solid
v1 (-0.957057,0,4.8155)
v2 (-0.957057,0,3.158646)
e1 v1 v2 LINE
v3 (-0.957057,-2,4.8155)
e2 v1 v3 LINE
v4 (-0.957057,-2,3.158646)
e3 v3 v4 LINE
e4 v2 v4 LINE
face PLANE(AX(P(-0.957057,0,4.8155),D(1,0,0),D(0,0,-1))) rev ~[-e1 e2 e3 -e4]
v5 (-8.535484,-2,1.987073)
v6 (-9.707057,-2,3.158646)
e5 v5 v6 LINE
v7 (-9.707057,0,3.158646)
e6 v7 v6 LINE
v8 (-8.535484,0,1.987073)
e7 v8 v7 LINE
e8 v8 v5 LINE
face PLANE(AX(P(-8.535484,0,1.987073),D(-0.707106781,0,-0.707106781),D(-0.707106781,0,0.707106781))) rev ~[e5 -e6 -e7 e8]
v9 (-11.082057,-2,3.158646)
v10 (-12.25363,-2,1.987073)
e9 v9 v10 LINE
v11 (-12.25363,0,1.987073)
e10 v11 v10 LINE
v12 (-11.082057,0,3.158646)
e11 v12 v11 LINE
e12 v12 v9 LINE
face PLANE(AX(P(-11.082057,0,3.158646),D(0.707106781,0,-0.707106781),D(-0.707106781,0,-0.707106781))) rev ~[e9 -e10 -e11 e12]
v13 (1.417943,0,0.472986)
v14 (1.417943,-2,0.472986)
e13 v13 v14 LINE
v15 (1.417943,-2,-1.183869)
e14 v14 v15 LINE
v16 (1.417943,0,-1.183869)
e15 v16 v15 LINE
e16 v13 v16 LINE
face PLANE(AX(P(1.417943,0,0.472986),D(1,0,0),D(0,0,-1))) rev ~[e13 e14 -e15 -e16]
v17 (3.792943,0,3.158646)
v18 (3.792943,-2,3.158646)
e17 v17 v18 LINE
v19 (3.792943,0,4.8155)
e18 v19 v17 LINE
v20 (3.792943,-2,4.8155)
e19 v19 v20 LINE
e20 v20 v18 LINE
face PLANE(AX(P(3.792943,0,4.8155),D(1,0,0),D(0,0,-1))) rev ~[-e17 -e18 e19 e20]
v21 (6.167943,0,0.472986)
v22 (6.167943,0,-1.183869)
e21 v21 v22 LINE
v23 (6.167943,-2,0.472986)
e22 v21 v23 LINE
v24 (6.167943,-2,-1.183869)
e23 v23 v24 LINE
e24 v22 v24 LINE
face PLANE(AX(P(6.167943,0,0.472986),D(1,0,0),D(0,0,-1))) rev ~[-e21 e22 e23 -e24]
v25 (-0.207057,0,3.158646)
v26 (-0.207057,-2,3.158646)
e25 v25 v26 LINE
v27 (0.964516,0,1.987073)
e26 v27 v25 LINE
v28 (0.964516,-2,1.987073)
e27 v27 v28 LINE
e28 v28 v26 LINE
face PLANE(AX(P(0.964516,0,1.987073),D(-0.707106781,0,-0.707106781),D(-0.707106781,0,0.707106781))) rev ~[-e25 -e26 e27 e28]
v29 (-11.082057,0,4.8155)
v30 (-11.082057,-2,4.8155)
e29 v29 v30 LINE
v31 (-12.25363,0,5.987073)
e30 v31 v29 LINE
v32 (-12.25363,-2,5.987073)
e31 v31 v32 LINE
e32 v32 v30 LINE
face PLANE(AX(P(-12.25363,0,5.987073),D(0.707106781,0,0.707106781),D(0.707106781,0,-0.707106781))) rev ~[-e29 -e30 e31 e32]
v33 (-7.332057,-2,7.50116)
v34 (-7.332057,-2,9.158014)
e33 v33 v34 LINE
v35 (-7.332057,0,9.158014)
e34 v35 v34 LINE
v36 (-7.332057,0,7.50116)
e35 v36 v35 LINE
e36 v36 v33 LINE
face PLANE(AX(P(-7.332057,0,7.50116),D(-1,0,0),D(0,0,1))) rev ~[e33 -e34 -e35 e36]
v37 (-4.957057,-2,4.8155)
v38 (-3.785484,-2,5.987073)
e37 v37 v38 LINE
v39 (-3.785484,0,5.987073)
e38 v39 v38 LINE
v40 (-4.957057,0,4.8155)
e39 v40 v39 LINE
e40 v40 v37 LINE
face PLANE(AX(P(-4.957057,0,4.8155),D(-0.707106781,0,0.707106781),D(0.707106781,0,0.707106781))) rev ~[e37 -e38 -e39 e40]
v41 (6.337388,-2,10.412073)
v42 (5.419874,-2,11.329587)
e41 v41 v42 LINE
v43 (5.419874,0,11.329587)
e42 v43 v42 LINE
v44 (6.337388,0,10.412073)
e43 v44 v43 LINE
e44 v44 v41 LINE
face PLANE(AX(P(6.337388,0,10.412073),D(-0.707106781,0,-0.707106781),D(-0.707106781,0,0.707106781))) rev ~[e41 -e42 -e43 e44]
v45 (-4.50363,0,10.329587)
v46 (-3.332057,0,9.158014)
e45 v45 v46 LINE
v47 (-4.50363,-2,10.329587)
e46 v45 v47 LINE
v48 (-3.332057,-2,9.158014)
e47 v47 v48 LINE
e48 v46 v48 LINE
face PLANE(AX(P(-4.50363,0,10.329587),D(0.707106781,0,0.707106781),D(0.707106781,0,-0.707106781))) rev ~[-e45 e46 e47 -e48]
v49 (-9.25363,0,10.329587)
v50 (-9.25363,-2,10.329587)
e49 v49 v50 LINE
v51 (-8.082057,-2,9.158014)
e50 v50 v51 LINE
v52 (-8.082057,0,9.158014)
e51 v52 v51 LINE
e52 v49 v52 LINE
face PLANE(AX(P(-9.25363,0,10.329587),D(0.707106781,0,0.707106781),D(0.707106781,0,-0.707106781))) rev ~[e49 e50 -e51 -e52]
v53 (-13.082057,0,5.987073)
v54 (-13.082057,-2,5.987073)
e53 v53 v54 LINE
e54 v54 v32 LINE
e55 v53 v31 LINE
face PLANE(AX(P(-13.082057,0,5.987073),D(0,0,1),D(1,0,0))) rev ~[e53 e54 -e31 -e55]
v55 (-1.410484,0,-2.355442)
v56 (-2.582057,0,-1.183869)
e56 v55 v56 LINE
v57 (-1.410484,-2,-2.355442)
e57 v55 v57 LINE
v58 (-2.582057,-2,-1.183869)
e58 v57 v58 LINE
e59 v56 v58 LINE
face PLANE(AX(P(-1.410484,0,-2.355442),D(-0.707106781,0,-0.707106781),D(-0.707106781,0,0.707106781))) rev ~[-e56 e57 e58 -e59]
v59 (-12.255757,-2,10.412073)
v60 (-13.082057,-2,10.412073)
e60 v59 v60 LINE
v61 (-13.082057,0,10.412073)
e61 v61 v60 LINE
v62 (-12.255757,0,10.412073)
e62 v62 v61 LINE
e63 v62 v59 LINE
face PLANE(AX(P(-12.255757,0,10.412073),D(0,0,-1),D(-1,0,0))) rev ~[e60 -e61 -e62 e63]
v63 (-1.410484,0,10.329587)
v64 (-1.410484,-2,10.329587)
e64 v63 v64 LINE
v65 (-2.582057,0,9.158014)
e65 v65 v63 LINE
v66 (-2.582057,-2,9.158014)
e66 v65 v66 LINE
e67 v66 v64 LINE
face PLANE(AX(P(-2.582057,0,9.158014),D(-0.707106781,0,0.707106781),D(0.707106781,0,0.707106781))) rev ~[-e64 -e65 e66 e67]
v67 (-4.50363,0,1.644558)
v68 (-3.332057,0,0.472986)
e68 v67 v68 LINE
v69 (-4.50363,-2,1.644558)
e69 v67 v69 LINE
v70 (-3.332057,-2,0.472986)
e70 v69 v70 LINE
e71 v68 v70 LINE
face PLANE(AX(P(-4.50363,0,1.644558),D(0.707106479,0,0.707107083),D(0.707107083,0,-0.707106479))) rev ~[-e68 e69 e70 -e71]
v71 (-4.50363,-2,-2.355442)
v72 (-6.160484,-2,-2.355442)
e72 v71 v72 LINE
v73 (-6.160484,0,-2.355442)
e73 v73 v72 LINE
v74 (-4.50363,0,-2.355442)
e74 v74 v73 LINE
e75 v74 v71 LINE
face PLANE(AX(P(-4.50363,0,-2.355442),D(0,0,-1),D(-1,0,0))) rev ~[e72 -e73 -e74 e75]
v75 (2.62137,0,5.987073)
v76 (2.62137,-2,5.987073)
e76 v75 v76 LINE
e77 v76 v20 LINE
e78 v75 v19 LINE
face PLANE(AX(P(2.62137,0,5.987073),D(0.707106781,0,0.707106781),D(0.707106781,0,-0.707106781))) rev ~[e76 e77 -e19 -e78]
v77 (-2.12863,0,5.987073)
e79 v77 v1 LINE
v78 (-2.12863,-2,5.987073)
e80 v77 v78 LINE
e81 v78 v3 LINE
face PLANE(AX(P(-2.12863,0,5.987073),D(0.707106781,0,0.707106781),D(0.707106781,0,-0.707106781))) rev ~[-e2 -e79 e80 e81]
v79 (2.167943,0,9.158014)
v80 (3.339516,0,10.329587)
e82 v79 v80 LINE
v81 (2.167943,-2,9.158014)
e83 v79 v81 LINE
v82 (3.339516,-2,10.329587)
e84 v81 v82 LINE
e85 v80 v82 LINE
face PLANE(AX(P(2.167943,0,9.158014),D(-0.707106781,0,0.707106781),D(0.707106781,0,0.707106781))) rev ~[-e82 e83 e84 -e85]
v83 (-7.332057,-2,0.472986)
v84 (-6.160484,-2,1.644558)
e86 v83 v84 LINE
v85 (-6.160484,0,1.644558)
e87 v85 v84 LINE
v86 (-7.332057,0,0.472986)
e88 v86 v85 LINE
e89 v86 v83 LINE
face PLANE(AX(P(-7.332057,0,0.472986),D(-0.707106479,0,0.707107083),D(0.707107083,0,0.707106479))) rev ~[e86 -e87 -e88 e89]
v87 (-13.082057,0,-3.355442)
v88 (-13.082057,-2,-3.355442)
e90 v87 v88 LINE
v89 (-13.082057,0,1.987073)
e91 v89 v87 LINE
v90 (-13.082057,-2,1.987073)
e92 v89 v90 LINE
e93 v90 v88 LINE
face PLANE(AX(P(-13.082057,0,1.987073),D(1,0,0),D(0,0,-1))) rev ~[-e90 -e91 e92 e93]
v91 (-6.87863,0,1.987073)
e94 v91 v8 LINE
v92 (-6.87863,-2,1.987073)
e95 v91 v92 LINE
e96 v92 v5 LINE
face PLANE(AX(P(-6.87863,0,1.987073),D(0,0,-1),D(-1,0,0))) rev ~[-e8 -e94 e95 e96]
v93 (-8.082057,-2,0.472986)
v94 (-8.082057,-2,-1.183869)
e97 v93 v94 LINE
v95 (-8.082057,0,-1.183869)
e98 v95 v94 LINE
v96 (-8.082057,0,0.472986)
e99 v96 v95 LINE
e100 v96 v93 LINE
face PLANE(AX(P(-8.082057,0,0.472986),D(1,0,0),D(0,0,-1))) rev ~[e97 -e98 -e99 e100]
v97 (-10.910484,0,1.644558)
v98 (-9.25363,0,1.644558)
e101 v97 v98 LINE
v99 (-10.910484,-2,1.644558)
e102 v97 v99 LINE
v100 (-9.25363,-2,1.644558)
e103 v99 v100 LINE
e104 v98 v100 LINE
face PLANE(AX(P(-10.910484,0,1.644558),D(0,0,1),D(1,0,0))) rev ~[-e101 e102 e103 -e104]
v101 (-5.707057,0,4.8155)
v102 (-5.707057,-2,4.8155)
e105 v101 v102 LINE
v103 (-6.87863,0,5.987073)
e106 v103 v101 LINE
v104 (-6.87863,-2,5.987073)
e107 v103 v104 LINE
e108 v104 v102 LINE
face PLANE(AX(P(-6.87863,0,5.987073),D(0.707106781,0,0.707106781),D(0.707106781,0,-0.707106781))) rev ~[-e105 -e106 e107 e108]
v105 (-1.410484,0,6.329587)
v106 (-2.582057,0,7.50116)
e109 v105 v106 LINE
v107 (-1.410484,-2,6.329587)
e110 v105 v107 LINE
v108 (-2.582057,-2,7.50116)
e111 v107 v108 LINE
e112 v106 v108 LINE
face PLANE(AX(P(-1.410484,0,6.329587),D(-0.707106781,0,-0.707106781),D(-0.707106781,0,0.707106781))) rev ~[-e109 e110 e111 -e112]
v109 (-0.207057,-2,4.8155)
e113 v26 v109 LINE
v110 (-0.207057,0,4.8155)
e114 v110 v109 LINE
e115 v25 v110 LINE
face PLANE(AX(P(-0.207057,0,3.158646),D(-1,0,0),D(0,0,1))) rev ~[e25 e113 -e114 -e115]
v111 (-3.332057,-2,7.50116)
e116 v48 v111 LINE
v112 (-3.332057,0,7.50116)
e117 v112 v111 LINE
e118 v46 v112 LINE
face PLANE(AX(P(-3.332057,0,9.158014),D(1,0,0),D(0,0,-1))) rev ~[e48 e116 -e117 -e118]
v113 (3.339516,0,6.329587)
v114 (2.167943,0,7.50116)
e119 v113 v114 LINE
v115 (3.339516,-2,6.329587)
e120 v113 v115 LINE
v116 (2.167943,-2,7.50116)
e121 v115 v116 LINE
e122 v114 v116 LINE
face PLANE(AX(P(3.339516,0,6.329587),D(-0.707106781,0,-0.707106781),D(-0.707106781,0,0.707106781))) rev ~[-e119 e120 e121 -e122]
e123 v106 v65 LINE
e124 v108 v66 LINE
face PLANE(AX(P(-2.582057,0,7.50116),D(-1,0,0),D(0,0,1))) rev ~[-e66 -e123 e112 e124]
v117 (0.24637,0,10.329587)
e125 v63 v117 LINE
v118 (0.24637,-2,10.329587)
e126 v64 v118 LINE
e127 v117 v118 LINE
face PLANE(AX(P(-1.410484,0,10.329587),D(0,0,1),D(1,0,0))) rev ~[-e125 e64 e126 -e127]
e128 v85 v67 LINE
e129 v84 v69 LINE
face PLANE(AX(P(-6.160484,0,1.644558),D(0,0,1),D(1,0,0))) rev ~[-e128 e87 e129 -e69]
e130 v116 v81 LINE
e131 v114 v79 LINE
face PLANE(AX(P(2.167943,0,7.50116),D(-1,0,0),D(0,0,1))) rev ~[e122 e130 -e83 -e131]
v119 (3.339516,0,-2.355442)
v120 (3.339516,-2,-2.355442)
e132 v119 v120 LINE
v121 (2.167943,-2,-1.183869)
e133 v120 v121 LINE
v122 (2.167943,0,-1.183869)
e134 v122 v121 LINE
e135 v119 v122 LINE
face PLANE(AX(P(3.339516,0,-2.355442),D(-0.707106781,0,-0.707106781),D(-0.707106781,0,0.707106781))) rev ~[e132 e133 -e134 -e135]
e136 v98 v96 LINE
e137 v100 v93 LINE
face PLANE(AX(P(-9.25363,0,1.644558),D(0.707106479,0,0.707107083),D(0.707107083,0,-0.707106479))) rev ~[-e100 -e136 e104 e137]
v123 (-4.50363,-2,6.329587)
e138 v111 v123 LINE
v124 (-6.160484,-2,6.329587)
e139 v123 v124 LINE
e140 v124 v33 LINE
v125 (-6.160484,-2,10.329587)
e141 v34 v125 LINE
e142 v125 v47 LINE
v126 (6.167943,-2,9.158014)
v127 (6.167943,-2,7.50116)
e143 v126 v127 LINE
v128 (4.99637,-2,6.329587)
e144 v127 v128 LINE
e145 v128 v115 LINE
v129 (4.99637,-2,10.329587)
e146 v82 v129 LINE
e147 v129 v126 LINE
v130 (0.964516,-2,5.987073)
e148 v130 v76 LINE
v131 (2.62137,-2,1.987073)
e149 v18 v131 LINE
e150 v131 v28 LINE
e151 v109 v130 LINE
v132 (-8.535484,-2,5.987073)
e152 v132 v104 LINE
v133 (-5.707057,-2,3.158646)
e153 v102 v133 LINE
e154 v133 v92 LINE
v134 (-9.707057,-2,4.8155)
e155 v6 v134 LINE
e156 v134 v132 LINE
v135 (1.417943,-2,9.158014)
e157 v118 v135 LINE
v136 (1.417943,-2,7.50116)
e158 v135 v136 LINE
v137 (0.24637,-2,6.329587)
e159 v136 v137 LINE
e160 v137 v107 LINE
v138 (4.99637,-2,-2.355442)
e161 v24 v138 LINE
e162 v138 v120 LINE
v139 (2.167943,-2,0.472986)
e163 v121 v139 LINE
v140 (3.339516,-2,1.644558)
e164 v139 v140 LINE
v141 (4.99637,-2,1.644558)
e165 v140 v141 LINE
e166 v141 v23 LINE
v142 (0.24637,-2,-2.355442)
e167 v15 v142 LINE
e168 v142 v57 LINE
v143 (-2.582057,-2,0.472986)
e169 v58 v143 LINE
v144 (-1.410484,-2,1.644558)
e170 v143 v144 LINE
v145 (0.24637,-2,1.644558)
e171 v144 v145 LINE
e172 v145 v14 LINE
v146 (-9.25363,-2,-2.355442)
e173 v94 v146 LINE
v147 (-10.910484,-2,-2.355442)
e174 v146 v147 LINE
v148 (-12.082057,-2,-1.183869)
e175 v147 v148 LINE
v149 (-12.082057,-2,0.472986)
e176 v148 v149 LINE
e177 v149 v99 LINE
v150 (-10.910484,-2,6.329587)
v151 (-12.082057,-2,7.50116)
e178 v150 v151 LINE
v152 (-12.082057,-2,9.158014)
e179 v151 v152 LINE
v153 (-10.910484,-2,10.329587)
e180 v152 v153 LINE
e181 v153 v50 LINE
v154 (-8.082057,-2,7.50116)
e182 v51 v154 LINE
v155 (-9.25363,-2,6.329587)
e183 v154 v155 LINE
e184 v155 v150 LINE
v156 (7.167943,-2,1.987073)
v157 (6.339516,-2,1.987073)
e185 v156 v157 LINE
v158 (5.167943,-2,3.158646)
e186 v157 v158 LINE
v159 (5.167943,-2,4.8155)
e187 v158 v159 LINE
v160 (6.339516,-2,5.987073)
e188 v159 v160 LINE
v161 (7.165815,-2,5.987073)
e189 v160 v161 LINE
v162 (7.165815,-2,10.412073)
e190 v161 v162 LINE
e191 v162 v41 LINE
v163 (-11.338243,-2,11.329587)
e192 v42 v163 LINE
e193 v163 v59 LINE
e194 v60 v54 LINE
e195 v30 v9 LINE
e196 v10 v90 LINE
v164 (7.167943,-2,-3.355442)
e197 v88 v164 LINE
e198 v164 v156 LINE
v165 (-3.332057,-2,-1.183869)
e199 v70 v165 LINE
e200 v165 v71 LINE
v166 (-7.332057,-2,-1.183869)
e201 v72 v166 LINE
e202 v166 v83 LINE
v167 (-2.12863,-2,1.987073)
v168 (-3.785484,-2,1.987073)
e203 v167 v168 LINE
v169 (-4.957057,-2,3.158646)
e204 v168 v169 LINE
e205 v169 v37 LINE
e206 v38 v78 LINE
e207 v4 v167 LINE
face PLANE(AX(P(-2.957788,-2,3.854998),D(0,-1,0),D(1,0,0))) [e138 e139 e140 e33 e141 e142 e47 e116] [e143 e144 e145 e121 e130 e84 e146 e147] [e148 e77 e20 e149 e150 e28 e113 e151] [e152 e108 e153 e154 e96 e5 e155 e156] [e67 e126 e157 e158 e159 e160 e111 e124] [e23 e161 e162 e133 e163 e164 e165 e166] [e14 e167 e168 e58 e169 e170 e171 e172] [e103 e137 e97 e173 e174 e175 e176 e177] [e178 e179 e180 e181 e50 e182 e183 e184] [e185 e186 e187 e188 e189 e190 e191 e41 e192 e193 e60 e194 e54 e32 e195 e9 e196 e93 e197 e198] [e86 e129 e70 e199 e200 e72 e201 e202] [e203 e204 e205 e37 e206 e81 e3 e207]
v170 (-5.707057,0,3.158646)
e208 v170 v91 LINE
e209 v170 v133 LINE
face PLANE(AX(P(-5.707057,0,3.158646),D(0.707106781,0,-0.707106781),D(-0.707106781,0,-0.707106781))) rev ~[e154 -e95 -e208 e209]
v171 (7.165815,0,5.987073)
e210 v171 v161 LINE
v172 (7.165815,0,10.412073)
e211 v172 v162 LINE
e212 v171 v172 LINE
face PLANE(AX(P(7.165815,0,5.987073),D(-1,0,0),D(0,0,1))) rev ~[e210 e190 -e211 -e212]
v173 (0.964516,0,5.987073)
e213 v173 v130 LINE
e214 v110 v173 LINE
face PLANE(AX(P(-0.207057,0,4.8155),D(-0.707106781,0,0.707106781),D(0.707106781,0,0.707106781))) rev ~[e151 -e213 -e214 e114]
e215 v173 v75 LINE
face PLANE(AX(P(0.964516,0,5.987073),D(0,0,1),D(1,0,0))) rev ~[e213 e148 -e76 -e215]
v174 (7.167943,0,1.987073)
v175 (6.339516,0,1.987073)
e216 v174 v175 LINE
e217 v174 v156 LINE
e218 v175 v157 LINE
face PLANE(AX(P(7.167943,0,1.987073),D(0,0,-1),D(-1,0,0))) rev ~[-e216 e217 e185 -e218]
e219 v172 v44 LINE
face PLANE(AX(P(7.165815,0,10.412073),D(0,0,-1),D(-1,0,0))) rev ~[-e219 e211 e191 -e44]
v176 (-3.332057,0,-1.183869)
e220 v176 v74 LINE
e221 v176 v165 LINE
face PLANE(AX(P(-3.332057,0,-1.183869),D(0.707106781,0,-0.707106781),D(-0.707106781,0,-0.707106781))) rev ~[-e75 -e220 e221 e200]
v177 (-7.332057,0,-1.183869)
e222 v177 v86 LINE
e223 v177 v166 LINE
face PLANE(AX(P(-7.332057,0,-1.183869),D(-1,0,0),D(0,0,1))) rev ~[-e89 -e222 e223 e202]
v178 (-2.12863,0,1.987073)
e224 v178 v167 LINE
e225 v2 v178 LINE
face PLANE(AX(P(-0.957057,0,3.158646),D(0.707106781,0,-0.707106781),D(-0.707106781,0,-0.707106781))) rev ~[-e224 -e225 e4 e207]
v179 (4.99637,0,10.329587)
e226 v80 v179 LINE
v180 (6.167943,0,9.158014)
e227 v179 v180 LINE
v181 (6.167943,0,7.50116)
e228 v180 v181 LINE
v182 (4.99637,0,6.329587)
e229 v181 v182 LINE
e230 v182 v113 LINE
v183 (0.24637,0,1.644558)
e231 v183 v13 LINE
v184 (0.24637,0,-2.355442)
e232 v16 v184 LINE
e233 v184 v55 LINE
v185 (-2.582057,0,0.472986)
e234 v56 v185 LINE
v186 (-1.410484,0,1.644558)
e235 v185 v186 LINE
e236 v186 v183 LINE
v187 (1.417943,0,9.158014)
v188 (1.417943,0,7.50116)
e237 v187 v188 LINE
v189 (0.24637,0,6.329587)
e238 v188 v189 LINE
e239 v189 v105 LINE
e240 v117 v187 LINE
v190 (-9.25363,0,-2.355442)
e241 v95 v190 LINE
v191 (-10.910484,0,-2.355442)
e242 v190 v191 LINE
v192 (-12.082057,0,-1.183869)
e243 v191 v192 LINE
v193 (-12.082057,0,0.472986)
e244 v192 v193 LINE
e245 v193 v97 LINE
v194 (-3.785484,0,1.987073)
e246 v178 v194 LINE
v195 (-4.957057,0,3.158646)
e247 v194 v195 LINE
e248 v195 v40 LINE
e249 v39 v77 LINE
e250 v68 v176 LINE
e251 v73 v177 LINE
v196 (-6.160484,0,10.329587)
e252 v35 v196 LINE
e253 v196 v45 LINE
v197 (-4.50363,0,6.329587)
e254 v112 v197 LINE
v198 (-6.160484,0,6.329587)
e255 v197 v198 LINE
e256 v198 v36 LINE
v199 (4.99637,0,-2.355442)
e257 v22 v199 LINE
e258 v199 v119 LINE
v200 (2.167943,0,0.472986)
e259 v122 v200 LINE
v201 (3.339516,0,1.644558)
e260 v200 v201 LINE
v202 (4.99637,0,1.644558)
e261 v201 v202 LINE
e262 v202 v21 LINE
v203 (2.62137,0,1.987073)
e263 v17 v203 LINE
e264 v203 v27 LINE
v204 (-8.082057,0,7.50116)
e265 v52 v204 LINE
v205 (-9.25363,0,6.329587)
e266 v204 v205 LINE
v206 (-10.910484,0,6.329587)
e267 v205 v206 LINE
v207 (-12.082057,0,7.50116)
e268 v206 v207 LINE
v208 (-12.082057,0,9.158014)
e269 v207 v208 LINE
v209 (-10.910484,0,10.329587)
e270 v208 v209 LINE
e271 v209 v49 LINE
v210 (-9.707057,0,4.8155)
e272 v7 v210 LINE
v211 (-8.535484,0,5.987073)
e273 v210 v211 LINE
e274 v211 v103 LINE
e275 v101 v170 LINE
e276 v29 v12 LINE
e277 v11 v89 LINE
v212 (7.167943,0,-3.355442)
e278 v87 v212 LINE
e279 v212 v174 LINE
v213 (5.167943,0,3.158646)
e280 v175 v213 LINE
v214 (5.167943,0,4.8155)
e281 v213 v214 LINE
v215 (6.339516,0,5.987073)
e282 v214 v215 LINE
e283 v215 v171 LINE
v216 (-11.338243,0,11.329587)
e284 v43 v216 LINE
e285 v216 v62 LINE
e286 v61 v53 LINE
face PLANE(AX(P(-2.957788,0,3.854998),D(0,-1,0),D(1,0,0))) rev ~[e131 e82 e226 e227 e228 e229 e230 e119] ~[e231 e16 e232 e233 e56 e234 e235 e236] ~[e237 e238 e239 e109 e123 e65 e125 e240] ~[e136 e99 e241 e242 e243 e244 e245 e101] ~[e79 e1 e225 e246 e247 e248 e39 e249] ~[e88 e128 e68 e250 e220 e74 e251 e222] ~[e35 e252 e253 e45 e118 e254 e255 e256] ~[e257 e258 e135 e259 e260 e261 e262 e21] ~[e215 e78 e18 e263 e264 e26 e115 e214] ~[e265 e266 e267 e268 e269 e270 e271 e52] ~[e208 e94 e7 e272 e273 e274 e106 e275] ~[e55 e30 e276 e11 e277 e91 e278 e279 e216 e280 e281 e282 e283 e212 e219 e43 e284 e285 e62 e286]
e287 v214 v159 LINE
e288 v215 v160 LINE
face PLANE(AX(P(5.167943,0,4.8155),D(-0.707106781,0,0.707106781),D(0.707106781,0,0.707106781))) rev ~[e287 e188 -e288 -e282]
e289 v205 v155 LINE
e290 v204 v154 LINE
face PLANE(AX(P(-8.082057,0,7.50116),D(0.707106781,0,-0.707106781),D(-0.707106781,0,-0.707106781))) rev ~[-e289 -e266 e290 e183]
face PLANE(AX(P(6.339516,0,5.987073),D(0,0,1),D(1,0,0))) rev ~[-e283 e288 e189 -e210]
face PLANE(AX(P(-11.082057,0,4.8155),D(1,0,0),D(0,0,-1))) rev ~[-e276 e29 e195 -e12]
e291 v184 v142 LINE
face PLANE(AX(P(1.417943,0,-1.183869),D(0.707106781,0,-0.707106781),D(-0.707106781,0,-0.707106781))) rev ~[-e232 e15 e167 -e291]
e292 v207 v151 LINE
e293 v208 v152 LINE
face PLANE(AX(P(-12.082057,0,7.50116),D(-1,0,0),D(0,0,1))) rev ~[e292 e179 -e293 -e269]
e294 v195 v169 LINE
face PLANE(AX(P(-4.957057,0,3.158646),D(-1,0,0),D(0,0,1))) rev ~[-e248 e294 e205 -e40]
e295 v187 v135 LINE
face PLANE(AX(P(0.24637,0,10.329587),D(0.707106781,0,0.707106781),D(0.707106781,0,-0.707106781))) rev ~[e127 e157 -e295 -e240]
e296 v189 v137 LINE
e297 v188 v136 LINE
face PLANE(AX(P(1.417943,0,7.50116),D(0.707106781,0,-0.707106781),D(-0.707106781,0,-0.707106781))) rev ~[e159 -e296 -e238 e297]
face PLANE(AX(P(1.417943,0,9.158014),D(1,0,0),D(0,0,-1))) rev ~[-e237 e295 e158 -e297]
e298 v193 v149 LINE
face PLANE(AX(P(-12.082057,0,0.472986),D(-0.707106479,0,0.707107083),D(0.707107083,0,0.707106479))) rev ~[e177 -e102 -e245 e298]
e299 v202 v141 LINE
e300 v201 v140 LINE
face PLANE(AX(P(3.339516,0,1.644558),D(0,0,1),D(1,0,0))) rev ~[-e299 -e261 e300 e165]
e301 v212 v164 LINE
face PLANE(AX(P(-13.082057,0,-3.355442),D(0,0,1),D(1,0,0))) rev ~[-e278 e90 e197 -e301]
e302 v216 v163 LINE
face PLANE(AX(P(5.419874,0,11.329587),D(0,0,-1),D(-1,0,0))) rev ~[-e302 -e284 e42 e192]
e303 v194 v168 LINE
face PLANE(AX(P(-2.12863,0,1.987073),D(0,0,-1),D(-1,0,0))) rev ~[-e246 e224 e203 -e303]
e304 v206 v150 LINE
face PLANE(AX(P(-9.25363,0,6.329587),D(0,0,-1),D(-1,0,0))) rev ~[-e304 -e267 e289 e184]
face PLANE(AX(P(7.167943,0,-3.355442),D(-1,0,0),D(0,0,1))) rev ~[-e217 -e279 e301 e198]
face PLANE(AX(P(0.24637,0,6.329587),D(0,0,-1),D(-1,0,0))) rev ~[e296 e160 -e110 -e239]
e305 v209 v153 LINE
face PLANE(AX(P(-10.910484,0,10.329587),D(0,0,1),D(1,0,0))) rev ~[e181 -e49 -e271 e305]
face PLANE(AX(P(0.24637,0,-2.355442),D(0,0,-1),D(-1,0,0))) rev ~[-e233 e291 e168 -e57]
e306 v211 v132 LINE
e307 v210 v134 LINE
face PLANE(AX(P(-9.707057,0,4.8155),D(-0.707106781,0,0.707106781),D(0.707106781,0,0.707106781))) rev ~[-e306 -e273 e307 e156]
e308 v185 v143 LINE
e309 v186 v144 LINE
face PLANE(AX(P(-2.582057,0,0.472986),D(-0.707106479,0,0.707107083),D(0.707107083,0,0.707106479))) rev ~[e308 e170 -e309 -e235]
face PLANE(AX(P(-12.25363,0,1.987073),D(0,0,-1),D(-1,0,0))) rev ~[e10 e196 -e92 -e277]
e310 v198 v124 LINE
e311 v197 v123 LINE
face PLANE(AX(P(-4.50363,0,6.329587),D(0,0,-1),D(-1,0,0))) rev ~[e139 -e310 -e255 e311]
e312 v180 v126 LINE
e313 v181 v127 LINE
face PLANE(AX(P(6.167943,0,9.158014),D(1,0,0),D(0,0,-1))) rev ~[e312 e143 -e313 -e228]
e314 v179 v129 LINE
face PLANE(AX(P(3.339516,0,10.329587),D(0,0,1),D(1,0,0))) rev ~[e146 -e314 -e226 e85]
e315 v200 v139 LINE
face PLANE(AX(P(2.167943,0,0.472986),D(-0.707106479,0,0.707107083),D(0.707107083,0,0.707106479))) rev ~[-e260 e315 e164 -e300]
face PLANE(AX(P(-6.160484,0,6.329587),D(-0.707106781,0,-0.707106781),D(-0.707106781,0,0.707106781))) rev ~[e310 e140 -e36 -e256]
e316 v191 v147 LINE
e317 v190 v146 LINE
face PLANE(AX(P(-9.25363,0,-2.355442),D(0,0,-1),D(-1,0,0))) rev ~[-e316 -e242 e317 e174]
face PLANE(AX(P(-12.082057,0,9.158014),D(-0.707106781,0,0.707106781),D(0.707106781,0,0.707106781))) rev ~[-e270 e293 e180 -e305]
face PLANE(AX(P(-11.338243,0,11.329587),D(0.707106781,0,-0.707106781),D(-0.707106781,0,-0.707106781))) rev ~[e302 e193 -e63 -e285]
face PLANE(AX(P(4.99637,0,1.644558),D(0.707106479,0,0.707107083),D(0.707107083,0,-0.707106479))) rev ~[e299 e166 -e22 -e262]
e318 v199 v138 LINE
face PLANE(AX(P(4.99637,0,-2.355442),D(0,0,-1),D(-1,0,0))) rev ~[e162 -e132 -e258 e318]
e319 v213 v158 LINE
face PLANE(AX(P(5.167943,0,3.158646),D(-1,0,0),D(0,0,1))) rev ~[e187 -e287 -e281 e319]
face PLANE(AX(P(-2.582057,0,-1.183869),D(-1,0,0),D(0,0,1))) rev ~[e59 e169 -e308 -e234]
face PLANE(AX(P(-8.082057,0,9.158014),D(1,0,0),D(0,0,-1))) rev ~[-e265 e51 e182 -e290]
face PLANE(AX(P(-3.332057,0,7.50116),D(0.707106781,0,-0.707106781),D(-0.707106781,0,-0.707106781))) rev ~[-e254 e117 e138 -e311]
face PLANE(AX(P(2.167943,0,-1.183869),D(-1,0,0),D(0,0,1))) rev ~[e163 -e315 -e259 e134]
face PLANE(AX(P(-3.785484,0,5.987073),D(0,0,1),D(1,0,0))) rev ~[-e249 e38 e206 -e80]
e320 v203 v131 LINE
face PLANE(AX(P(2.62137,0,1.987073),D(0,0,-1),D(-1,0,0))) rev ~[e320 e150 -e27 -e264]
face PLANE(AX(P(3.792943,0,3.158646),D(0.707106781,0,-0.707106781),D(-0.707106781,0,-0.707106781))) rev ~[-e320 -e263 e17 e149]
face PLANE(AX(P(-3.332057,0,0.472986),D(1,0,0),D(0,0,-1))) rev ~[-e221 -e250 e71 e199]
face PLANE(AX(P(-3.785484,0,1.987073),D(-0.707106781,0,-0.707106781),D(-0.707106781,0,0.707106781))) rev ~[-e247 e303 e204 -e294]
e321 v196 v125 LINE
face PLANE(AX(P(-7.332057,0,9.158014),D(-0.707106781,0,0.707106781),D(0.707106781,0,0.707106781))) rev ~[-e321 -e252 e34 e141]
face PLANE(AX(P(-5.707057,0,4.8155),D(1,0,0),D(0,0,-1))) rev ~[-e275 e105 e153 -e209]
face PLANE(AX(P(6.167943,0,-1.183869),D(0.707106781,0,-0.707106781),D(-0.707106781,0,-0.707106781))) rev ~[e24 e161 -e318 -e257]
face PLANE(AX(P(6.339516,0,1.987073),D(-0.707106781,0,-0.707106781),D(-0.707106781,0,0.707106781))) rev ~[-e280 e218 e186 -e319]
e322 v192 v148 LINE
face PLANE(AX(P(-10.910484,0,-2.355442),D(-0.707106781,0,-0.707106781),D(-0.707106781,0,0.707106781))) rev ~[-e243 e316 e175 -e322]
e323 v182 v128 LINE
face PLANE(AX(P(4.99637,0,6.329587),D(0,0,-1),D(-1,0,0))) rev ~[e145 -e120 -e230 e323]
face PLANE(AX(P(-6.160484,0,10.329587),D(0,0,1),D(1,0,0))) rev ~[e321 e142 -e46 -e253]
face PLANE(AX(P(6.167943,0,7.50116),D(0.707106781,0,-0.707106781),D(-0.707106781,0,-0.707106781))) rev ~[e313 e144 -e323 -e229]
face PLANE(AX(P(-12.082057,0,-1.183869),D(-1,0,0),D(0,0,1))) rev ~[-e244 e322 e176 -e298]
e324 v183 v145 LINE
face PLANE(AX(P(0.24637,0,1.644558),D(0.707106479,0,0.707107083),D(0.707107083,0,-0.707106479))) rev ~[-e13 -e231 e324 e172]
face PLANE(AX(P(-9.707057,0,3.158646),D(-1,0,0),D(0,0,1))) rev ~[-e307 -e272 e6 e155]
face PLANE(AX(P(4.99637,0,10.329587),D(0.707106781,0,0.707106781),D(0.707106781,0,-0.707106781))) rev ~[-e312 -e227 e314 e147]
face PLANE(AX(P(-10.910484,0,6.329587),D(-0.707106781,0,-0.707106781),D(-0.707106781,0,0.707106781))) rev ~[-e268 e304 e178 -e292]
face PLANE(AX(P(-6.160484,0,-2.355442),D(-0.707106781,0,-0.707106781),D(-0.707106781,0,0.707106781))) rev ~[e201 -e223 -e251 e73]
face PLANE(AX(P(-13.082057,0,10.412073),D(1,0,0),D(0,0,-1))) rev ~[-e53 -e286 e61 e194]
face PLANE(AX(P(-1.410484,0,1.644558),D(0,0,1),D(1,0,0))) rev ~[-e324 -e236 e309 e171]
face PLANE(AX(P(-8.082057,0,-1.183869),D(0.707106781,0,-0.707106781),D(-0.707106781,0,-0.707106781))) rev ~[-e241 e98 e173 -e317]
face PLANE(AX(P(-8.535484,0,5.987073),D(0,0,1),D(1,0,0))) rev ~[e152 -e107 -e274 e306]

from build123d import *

# Parameters (mm, degrees)
F1_DEPTH = 2


with BuildPart() as f1:
    # F0 (on Front) → F1 (new body)
    with BuildSketch(Plane.XZ):
        Polygon((5.419874, 11.329587), (-11.338243, 11.329587), (-12.255757, 10.412073), (-13.082057, 10.412073), (-13.082057, 5.987073), (-12.25363, 5.987073), (-11.082057, 4.8155), (-11.082057, 3.158646), (-12.25363, 1.987073), (-13.082057, 1.987073), (-13.082057, -3.355442), (7.167943, -3.355442), (7.167943, 1.987073), (6.339516, 1.987073), (5.167943, 3.158646), (5.167943, 4.8155), (6.339516, 5.987073), (7.165815, 5.987073), (7.165815, 10.412073), (6.337388, 10.412073), align=None)
        Polygon((-12.082057, -1.183869), (-12.082057, 0.472986), (-10.910484, 1.644558), (-9.25363, 1.644558), (-8.082057, 0.472986), (-8.082057, -1.183869), (-9.25363, -2.355442), (-10.910484, -2.355442), align=None, mode=Mode.SUBTRACT)
        Polygon((-4.50363, 1.644558), (-3.332057, 0.472986), (-3.332057, -1.183869), (-4.50363, -2.355442), (-6.160484, -2.355442), (-7.332057, -1.183869), (-7.332057, 0.472986), (-6.160484, 1.644558), align=None, mode=Mode.SUBTRACT)
        Polygon((-8.082057, 9.158014), (-8.082057, 7.50116), (-9.25363, 6.329587), (-10.910484, 6.329587), (-12.082057, 7.50116), (-12.082057, 9.158014), (-10.910484, 10.329587), (-9.25363, 10.329587), align=None, mode=Mode.SUBTRACT)
        Polygon((-9.707057, 3.158646), (-9.707057, 4.8155), (-8.535484, 5.987073), (-6.87863, 5.987073), (-5.707057, 4.8155), (-5.707057, 3.158646), (-6.87863, 1.987073), (-8.535484, 1.987073), align=None, mode=Mode.SUBTRACT)
        Polygon((-7.332057, 9.158014), (-6.160484, 10.329587), (-4.50363, 10.329587), (-3.332057, 9.158014), (-3.332057, 7.50116), (-4.50363, 6.329587), (-6.160484, 6.329587), (-7.332057, 7.50116), align=None, mode=Mode.SUBTRACT)
        Polygon((0.24637, 1.644558), (1.417943, 0.472986), (1.417943, -1.183869), (0.24637, -2.355442), (-1.410484, -2.355442), (-2.582057, -1.183869), (-2.582057, 0.472986), (-1.410484, 1.644558), align=None, mode=Mode.SUBTRACT)
        Polygon((4.99637, 1.644558), (6.167943, 0.472986), (6.167943, -1.183869), (4.99637, -2.355442), (3.339516, -2.355442), (2.167943, -1.183869), (2.167943, 0.472986), (3.339516, 1.644558), align=None, mode=Mode.SUBTRACT)
        Polygon((-3.785484, 5.987073), (-2.12863, 5.987073), (-0.957057, 4.8155), (-0.957057, 3.158646), (-2.12863, 1.987073), (-3.785484, 1.987073), (-4.957057, 3.158646), (-4.957057, 4.8155), align=None, mode=Mode.SUBTRACT)
        Polygon((0.964516, 5.987073), (2.62137, 5.987073), (3.792943, 4.8155), (3.792943, 3.158646), (2.62137, 1.987073), (0.964516, 1.987073), (-0.207057, 3.158646), (-0.207057, 4.8155), align=None, mode=Mode.SUBTRACT)
        Polygon((-2.582057, 9.158014), (-1.410484, 10.329587), (0.24637, 10.329587), (1.417943, 9.158014), (1.417943, 7.50116), (0.24637, 6.329587), (-1.410484, 6.329587), (-2.582057, 7.50116), align=None, mode=Mode.SUBTRACT)
        Polygon((2.167943, 9.158014), (3.339516, 10.329587), (4.99637, 10.329587), (6.167943, 9.158014), (6.167943, 7.50116), (4.99637, 6.329587), (3.339516, 6.329587), (2.167943, 7.50116), align=None, mode=Mode.SUBTRACT)
    extrude(amount=F1_DEPTH)


solid = f1.part
